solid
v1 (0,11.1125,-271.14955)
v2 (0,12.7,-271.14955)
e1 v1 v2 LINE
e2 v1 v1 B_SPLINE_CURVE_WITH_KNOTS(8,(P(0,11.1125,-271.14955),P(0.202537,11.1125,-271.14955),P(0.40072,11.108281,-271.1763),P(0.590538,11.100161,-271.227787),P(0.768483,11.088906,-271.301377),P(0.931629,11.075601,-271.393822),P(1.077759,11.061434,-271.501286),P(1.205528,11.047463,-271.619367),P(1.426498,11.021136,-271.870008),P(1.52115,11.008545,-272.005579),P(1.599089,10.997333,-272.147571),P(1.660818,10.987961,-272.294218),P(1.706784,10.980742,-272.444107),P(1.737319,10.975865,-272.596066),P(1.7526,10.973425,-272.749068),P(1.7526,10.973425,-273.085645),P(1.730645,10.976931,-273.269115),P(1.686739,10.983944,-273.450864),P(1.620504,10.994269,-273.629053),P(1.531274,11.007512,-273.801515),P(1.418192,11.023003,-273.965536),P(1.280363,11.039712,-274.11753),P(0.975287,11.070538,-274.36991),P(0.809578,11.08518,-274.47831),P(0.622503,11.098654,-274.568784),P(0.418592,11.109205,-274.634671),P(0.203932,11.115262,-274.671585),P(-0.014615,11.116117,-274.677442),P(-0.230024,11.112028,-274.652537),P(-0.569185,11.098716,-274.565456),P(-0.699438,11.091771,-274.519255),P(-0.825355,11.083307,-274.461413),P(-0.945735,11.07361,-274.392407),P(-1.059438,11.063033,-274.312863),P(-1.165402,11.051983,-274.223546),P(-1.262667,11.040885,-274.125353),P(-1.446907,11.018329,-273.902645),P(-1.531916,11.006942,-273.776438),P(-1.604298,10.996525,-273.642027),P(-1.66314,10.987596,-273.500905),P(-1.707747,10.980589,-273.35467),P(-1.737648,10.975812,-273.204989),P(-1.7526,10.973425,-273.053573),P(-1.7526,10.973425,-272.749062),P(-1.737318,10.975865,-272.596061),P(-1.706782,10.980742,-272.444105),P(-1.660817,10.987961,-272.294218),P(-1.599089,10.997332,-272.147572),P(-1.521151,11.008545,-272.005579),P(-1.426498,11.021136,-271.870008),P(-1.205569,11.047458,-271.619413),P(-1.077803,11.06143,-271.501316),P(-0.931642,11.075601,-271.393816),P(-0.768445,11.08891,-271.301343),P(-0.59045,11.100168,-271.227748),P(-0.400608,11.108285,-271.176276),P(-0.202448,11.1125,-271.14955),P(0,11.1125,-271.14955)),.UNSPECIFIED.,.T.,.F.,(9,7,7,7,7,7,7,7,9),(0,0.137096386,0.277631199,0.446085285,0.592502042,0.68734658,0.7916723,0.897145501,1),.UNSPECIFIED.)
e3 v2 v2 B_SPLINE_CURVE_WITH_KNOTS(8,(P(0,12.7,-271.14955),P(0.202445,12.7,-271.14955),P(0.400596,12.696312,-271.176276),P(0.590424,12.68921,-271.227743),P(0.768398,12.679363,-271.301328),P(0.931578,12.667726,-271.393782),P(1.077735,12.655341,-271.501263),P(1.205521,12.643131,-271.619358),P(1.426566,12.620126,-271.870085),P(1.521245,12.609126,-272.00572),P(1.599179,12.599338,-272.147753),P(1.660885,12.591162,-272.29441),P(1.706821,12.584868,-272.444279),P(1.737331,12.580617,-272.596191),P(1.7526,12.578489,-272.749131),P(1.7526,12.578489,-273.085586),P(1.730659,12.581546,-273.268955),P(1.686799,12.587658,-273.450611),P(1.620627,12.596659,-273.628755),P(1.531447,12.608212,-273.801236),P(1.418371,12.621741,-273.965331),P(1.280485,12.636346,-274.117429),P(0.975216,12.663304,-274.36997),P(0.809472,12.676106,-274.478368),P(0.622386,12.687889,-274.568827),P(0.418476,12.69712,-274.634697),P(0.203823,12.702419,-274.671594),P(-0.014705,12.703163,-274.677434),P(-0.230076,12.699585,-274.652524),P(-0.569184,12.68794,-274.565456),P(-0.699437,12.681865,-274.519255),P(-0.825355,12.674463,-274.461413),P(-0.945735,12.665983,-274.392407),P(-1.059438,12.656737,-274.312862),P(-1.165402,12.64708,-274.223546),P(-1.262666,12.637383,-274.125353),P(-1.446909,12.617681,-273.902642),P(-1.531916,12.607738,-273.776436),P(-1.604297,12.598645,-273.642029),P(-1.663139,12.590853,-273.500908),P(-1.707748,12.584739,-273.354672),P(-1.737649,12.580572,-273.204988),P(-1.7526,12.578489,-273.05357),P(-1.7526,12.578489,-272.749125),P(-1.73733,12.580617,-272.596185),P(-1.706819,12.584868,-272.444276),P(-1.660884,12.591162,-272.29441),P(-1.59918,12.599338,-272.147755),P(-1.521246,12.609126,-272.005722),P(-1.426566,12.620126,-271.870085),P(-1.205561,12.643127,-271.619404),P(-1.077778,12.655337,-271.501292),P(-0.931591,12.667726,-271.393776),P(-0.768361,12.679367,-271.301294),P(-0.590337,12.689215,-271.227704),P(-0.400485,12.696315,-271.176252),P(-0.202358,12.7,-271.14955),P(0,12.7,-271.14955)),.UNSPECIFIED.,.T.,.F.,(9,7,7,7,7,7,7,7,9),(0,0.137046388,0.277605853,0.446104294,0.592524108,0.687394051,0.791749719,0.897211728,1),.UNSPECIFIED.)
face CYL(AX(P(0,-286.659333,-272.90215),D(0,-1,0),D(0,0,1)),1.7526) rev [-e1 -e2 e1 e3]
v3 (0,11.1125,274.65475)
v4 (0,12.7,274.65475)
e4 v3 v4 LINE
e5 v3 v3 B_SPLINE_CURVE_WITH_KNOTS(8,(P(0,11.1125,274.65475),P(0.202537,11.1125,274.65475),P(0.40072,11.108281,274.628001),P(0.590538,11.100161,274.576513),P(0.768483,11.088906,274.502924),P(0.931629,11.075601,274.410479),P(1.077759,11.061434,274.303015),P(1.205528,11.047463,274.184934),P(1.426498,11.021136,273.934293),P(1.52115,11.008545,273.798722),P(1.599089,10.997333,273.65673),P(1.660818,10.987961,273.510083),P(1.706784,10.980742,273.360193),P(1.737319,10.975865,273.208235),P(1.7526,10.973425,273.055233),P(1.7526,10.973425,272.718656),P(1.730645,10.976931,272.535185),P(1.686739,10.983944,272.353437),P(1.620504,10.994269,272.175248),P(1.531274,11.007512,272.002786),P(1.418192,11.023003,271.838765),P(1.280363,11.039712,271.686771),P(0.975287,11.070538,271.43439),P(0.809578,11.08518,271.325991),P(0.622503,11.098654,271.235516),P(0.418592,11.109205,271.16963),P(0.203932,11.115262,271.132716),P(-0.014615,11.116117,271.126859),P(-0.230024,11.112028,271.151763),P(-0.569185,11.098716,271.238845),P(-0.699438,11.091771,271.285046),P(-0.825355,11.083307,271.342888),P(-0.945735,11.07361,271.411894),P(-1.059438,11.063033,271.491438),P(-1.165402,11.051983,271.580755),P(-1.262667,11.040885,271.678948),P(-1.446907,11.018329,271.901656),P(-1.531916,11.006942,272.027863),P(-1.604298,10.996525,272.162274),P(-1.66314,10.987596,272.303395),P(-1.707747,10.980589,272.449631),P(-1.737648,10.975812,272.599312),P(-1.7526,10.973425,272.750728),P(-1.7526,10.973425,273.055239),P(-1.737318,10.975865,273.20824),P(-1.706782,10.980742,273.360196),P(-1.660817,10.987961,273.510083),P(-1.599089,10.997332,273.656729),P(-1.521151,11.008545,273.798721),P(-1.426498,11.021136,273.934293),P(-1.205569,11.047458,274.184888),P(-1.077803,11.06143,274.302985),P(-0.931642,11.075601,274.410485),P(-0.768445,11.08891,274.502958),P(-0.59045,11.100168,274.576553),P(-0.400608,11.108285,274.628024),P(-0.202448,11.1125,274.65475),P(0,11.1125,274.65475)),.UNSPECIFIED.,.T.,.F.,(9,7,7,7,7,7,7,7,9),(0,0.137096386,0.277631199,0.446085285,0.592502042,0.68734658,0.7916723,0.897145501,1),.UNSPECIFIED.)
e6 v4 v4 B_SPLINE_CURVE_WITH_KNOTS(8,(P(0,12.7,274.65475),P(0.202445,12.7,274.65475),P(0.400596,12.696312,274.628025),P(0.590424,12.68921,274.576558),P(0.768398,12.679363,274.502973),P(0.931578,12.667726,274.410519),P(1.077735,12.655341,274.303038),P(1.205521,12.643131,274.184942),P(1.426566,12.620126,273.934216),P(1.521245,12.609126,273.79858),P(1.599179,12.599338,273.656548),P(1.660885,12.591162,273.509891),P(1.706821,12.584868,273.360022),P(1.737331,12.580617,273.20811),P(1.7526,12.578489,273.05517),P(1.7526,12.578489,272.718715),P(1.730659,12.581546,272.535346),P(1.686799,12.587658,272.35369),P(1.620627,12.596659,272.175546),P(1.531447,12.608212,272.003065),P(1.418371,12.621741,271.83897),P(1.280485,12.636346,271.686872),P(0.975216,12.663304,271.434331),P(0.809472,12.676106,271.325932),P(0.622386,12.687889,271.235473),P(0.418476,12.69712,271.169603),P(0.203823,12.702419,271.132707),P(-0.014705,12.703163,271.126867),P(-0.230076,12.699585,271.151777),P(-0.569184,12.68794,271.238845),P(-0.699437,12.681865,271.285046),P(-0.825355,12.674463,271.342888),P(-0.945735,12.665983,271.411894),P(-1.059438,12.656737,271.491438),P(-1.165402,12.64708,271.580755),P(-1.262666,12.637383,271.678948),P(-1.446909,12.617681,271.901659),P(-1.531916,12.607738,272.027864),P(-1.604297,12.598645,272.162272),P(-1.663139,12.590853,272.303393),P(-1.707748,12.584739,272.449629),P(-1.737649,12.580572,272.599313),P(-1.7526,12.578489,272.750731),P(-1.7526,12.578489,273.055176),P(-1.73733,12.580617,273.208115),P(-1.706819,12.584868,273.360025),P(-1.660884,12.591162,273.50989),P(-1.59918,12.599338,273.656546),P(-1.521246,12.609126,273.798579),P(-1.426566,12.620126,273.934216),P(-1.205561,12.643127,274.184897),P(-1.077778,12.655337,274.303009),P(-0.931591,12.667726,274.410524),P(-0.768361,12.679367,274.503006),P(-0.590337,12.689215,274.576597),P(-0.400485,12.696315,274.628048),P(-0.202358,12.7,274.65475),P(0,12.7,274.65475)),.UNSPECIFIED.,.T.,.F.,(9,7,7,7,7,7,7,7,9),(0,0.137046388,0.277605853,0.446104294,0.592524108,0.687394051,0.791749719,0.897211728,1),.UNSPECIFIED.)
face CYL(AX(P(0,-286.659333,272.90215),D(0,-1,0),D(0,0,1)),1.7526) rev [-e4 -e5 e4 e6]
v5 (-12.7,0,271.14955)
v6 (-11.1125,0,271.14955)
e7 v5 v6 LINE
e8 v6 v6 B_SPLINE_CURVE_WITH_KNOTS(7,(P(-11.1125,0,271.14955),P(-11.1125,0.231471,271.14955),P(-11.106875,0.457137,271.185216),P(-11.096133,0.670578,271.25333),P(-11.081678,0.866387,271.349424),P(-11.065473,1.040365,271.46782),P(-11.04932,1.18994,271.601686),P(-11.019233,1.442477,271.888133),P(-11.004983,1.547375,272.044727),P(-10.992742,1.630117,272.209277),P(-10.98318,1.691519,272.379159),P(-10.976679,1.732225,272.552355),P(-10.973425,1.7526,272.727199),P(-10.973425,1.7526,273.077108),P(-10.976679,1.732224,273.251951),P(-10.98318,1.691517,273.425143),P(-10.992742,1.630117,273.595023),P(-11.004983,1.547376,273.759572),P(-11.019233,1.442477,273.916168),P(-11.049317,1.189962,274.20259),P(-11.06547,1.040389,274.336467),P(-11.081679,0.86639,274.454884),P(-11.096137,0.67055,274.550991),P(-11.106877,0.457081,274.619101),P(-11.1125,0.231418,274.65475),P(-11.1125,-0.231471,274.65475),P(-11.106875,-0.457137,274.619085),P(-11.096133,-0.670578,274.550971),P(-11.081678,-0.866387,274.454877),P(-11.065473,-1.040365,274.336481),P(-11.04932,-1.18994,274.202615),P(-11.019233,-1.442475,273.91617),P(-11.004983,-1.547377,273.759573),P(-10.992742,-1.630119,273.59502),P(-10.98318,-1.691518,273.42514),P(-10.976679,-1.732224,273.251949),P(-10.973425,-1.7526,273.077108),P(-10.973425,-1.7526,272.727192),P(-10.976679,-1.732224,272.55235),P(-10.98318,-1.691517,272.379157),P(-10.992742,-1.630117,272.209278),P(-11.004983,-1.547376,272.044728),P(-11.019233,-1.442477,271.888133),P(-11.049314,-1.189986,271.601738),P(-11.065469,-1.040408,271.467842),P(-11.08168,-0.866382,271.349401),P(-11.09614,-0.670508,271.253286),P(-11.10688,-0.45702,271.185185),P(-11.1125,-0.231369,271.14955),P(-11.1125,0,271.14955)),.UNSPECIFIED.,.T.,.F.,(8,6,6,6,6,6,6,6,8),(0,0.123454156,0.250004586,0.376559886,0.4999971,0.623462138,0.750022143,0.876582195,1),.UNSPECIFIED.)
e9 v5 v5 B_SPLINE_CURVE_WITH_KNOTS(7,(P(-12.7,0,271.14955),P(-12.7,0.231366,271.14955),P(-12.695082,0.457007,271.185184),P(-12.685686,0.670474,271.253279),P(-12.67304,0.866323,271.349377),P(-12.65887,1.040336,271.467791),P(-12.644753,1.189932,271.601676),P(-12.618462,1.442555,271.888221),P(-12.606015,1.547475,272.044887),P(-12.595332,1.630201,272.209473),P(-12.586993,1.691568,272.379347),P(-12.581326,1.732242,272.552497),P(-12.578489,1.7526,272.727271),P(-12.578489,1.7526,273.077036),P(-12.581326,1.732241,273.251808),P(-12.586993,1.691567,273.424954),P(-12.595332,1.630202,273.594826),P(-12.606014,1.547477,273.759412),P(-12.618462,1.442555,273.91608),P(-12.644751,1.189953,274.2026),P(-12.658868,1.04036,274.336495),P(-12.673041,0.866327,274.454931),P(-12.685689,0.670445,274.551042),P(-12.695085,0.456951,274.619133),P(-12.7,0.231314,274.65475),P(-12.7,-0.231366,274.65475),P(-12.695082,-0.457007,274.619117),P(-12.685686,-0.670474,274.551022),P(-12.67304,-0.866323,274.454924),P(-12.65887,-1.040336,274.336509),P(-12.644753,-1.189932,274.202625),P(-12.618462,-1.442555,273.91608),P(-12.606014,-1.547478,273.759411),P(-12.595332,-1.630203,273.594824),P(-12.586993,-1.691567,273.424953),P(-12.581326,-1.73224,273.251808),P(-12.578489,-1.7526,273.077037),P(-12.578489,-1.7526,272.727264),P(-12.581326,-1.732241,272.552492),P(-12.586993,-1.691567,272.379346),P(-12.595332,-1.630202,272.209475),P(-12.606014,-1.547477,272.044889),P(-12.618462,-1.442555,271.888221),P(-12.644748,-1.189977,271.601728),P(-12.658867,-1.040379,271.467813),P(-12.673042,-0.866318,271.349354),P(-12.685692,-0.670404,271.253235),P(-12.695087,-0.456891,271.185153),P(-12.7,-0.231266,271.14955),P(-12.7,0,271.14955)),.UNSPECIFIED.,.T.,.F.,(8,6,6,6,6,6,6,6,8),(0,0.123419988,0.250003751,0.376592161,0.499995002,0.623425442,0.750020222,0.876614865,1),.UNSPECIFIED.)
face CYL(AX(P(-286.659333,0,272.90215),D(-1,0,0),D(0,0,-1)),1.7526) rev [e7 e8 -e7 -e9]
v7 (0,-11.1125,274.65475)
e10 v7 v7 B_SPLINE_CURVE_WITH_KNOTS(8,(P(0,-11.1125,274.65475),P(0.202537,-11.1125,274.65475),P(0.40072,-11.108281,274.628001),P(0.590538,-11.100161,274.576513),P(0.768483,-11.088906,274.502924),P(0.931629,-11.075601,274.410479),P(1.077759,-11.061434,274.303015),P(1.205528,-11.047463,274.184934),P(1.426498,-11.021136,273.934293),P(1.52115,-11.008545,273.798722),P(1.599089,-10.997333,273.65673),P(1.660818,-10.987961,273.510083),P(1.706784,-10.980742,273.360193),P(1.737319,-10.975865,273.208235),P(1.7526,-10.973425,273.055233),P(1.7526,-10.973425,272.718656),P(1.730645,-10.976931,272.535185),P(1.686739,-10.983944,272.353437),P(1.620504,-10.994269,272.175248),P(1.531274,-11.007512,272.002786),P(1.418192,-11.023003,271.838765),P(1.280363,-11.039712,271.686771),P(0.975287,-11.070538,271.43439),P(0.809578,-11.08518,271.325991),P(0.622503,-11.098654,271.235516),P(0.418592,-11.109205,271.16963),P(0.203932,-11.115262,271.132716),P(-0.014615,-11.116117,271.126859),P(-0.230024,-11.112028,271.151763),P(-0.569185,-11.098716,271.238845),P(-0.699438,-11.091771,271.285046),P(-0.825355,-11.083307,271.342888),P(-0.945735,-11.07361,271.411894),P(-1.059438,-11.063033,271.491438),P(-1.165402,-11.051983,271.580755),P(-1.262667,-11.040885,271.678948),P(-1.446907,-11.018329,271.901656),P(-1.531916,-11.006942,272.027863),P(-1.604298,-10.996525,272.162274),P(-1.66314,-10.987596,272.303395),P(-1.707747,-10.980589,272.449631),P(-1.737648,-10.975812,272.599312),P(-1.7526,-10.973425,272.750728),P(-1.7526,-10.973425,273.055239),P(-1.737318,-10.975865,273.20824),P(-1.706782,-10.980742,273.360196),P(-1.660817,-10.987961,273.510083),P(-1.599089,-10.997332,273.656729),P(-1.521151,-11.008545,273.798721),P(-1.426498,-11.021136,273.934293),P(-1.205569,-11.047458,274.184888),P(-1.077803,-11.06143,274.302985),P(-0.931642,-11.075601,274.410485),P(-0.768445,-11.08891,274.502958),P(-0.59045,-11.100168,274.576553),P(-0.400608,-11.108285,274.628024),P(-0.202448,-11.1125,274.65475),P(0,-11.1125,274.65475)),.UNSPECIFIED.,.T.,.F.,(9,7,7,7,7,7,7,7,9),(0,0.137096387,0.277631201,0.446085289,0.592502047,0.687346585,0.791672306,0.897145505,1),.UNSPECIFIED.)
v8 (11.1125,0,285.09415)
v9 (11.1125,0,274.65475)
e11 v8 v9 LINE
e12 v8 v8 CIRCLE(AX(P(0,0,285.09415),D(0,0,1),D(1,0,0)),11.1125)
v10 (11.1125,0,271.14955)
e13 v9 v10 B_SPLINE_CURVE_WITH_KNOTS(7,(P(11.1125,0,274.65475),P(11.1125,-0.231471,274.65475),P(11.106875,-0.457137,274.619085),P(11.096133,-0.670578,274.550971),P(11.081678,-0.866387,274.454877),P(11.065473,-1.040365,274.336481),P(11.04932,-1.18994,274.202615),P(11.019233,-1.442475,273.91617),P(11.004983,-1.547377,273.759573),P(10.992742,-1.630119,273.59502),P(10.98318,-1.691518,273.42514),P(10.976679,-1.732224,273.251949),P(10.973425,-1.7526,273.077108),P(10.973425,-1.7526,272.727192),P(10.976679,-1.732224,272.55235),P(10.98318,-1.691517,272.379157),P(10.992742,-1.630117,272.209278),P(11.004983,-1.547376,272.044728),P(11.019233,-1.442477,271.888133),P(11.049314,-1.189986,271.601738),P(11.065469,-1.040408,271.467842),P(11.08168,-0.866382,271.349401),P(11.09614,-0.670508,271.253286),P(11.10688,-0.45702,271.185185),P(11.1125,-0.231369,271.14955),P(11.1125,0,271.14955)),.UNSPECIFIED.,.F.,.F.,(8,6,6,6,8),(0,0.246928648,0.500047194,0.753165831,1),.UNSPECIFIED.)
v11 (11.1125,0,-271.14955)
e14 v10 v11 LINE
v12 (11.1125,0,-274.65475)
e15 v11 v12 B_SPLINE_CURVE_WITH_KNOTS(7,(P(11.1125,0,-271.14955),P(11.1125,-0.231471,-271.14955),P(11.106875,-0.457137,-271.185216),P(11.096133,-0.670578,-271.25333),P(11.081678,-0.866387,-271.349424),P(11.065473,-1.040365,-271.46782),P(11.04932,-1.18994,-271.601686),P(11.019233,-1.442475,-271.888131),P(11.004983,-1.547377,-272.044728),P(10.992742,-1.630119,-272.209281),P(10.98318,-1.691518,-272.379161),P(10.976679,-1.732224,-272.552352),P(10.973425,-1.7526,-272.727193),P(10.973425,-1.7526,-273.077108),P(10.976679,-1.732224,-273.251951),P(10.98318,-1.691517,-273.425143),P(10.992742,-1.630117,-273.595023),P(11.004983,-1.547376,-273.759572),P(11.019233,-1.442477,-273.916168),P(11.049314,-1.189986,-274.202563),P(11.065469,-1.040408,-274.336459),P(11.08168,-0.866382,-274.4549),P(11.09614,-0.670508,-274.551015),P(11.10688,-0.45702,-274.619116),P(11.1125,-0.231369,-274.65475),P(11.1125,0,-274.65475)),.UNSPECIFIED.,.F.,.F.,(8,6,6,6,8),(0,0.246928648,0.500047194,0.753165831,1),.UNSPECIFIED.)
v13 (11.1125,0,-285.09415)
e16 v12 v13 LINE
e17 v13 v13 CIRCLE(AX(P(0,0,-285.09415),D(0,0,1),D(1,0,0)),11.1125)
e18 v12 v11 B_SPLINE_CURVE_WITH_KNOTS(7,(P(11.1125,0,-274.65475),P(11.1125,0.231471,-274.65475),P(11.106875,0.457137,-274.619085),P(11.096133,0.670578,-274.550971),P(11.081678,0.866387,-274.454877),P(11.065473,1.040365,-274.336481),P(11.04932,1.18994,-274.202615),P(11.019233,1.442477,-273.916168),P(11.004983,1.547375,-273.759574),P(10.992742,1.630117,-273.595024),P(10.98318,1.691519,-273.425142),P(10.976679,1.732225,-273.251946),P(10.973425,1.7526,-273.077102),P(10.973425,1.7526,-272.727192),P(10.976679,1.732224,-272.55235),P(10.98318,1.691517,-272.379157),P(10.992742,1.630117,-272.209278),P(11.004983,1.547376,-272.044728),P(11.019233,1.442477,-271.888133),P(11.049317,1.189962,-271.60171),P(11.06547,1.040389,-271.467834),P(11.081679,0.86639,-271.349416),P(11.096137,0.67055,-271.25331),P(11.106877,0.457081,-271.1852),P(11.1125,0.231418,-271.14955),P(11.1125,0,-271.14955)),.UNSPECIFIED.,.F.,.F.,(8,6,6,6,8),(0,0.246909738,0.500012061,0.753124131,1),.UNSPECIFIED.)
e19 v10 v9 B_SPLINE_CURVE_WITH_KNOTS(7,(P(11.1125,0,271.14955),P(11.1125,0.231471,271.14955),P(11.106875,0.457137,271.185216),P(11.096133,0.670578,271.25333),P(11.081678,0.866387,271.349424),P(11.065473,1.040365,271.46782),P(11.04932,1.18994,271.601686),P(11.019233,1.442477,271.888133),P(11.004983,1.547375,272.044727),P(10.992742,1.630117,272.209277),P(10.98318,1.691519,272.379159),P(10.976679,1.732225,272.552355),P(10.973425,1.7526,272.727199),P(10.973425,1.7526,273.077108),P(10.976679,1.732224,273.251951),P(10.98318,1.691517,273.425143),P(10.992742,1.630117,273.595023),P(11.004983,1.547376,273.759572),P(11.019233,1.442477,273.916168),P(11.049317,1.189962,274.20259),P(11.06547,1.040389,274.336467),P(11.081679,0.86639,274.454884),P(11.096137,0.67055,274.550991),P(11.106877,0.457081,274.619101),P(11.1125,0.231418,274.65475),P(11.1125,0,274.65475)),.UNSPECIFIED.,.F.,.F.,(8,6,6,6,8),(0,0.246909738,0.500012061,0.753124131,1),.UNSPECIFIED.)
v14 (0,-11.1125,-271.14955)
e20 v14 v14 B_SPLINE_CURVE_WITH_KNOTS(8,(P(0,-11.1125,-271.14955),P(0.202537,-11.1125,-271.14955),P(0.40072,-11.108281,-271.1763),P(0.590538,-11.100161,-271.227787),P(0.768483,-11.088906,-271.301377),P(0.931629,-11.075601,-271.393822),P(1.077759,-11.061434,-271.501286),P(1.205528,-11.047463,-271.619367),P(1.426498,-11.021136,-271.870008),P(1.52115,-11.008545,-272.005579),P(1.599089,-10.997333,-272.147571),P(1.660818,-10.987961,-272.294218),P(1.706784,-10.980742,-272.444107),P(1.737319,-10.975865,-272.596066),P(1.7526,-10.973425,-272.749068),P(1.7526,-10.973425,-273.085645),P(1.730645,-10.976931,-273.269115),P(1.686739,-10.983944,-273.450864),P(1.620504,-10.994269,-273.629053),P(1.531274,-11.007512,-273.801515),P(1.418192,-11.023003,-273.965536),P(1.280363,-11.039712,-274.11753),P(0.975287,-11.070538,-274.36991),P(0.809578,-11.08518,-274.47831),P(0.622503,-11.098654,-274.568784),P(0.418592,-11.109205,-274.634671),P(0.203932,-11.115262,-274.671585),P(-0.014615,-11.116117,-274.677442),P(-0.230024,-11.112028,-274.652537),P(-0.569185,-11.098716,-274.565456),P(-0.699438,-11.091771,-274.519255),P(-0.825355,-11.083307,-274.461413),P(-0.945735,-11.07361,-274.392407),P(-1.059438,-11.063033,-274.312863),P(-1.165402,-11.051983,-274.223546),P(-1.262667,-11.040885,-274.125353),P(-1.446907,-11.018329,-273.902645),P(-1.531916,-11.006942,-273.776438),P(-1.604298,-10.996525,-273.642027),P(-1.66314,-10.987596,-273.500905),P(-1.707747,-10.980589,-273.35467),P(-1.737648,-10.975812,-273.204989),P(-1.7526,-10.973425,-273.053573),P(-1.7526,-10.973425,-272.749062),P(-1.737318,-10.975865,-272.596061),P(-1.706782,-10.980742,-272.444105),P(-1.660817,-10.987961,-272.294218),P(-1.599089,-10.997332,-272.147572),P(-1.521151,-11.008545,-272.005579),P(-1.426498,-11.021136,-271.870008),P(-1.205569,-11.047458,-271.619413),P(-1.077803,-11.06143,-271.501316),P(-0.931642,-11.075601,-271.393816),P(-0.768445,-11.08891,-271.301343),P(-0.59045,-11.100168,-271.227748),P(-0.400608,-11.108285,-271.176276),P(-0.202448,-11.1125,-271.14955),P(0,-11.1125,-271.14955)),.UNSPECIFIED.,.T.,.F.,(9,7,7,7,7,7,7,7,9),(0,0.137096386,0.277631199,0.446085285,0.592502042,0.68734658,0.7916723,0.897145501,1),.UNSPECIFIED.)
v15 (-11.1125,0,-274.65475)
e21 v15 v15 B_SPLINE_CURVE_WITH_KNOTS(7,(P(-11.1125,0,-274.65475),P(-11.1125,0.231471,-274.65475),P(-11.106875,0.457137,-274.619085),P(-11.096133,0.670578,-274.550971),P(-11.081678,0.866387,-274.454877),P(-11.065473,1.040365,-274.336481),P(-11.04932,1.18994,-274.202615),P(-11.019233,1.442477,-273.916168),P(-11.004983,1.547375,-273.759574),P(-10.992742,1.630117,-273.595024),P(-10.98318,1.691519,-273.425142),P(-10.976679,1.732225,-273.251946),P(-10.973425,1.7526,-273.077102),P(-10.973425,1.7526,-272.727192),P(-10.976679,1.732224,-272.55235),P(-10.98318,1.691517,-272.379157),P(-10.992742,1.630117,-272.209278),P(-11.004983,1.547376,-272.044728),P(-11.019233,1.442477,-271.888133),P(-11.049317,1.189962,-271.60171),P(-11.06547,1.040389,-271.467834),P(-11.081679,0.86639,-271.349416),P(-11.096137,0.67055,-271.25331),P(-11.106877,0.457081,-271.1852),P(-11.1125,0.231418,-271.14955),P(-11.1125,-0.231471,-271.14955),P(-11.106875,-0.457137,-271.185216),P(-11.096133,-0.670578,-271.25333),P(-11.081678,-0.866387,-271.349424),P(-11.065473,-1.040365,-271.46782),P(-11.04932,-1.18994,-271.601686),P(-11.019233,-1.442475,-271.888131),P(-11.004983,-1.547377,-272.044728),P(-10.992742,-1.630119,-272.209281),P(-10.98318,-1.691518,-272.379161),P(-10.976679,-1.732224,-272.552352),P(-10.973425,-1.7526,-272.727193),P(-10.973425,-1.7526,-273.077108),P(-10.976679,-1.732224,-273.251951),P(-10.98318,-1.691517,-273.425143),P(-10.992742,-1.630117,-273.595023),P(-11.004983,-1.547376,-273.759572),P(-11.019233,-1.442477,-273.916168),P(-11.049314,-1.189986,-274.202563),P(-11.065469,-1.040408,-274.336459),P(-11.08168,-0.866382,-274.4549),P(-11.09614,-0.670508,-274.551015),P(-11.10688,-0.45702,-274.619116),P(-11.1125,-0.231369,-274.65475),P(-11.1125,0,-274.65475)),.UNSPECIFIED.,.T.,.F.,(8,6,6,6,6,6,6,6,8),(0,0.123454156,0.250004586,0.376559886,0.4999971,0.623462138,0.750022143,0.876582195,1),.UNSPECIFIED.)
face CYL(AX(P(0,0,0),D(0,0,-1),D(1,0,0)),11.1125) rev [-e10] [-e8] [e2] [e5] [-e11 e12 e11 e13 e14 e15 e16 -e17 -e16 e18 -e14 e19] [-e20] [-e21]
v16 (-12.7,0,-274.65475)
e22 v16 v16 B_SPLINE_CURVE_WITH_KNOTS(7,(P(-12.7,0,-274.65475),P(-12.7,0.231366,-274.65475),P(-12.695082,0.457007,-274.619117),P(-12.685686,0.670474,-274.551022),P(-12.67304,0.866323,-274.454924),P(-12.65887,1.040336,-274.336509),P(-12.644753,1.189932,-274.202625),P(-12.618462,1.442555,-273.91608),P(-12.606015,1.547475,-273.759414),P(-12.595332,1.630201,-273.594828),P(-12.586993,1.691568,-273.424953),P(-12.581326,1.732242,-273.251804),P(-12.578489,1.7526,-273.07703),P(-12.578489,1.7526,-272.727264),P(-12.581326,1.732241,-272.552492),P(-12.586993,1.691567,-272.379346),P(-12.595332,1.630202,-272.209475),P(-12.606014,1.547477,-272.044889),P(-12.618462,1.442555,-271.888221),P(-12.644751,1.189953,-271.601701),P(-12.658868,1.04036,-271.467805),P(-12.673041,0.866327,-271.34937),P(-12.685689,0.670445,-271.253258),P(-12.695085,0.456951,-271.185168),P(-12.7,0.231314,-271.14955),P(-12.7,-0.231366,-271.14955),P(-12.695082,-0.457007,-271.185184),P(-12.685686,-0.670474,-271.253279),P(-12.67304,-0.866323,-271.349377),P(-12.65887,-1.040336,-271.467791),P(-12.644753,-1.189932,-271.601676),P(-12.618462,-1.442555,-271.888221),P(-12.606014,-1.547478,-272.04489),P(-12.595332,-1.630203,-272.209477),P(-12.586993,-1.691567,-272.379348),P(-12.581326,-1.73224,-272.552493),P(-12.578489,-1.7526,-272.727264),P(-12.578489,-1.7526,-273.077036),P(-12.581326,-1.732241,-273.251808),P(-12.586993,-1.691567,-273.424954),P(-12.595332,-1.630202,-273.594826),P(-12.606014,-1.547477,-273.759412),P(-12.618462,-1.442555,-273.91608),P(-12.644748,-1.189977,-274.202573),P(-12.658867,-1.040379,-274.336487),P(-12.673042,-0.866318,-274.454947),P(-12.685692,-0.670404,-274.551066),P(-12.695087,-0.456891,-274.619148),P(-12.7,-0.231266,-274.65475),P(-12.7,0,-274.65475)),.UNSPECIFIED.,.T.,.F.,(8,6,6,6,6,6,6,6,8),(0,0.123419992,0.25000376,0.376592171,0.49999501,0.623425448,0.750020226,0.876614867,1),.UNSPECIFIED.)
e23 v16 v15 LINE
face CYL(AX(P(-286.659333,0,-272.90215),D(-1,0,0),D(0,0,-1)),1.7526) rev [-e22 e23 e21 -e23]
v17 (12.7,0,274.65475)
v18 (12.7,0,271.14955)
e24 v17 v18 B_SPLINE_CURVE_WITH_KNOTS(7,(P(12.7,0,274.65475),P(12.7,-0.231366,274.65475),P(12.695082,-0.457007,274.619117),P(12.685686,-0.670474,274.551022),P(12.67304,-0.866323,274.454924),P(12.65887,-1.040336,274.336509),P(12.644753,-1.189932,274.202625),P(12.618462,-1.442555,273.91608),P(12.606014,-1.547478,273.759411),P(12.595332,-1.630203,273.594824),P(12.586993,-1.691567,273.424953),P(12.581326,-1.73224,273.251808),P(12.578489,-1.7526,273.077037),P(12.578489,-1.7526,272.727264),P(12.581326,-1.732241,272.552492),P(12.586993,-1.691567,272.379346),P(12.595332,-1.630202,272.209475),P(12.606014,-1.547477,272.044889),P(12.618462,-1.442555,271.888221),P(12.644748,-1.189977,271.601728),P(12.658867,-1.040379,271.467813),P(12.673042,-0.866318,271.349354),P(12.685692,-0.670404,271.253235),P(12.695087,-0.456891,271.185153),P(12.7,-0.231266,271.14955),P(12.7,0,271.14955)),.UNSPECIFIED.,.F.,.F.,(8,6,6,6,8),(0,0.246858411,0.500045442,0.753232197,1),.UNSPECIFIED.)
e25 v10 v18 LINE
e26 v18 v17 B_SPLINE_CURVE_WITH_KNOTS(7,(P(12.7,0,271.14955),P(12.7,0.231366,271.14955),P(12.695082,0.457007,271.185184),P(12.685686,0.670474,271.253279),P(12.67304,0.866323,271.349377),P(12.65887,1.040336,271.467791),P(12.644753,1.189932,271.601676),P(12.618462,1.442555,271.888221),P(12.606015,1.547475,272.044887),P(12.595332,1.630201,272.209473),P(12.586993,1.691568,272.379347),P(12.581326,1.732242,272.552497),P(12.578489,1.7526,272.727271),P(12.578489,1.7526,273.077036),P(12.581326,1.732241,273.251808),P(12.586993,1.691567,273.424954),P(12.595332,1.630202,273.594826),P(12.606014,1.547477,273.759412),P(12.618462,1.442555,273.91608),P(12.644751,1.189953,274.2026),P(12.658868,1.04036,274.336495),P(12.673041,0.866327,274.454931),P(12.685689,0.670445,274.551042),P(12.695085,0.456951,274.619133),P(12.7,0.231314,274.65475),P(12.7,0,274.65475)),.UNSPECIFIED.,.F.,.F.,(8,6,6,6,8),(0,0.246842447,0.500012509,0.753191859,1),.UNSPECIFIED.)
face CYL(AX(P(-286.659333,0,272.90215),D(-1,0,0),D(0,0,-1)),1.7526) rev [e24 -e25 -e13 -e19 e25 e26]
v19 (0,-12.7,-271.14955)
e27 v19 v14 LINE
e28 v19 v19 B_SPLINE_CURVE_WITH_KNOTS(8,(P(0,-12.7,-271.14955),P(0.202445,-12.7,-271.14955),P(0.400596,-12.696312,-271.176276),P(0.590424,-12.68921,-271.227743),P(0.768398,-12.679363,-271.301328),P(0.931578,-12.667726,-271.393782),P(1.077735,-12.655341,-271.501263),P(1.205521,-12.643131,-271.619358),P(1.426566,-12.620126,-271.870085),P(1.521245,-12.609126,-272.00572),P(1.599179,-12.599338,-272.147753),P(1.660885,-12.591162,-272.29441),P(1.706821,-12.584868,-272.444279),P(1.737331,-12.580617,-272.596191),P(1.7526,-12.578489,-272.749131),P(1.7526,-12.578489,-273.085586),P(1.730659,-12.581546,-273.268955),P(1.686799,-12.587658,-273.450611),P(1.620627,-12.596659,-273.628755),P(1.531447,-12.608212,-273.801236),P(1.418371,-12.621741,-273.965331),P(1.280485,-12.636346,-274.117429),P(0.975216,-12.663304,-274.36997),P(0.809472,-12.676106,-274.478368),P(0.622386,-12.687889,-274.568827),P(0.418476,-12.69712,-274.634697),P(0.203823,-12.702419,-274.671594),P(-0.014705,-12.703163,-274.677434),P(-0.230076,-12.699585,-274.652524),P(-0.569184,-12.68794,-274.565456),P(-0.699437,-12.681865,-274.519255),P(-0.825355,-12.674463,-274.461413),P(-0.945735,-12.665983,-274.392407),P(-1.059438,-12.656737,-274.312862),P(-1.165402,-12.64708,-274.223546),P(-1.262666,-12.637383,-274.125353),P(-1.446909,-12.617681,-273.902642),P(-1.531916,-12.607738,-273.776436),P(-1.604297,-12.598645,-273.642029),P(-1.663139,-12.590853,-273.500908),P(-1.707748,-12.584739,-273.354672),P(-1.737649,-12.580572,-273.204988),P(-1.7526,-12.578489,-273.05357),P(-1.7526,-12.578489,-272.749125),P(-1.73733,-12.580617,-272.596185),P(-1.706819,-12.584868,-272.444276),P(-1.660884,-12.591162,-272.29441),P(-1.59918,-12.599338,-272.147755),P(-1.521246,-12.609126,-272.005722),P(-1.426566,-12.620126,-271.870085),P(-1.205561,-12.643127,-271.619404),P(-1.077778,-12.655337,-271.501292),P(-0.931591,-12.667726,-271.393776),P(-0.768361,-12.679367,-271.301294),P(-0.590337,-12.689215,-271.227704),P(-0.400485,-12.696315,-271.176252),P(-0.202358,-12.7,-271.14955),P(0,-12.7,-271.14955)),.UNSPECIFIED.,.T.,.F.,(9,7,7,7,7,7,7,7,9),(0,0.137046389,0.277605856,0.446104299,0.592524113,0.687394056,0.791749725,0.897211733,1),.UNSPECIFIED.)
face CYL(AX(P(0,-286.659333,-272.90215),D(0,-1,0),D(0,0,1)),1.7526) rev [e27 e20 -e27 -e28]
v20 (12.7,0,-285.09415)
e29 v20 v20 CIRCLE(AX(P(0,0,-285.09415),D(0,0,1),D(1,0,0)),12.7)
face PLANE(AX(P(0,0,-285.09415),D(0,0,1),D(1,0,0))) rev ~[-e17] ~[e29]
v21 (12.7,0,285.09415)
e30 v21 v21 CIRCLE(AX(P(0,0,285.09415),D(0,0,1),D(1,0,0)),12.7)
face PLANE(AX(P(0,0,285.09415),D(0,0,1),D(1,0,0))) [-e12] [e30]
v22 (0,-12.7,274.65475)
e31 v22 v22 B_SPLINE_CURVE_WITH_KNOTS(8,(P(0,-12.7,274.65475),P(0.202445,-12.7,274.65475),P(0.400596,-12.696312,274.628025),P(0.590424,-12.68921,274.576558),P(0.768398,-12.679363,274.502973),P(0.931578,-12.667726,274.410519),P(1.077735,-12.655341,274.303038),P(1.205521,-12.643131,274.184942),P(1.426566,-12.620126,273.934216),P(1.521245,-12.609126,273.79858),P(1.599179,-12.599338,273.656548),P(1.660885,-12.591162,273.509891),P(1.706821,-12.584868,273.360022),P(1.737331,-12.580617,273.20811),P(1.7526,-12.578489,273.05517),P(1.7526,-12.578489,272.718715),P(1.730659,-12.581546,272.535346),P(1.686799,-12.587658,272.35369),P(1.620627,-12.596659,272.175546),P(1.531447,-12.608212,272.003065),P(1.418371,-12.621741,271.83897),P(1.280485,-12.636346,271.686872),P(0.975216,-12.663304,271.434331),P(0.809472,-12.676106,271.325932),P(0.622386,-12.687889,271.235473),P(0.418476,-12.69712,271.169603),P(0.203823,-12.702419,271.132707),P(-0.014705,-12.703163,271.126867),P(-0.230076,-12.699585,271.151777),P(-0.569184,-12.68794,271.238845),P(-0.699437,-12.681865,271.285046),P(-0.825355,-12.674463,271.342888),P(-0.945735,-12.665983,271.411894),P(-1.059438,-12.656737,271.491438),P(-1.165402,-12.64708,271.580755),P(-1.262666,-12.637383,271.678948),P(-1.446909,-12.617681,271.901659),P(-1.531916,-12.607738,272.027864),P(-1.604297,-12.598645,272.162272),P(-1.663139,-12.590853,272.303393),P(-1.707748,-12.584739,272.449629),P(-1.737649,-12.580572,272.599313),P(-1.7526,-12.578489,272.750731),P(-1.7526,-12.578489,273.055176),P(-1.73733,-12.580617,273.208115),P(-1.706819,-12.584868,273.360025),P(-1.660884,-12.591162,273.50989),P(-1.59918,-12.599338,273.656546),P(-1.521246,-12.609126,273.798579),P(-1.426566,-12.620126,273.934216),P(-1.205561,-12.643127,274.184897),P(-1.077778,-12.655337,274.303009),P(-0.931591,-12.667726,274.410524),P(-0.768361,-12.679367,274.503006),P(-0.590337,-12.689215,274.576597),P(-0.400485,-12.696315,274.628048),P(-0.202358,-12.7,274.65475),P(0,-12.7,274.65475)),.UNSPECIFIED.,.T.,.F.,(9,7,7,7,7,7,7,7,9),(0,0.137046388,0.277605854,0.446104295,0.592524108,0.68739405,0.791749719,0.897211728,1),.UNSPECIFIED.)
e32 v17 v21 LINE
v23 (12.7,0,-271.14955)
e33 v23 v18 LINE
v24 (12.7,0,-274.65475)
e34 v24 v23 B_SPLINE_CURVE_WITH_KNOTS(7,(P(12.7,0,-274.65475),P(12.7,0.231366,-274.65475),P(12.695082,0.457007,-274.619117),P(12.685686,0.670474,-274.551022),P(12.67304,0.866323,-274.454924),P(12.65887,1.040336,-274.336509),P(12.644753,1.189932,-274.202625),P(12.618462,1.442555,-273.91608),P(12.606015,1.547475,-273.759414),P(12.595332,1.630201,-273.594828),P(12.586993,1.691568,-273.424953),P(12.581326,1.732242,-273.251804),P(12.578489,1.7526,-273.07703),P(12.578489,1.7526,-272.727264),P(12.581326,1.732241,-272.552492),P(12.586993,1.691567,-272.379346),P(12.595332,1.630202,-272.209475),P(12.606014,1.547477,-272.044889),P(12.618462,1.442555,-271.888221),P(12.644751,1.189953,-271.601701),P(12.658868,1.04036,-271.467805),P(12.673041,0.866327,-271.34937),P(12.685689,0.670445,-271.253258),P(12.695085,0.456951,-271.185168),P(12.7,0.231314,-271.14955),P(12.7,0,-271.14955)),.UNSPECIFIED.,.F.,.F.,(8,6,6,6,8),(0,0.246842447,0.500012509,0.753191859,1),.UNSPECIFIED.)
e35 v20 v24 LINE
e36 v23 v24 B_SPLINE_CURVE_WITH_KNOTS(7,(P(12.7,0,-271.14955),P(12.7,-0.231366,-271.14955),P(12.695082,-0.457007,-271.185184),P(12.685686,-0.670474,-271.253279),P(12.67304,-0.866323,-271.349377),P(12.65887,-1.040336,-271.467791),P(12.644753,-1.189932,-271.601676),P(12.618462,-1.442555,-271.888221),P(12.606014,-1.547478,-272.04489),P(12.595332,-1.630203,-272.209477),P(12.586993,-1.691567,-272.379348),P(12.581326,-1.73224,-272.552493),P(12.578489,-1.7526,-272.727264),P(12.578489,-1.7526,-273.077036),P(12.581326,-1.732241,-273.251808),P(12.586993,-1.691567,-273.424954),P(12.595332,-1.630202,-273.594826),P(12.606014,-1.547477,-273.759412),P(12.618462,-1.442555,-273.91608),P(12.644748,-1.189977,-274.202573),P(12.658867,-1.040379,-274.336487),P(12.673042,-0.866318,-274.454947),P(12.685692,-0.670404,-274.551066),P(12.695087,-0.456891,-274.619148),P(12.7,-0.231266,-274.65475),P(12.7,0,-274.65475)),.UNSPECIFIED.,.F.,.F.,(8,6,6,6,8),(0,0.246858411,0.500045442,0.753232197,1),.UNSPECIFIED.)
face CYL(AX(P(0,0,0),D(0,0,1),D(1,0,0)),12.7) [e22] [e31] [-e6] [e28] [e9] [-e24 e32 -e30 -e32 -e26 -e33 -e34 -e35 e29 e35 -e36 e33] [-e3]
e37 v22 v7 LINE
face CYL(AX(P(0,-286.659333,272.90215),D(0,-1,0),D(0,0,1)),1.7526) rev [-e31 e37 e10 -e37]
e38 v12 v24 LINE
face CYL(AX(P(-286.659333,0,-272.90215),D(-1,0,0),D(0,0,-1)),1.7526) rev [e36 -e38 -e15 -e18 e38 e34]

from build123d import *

# Parameters (mm, degrees)
SKETCH2_R               = 12.7
SKETCH2_R_2             = 11.1125
BOSS_EXTRUDE1_DEPTH     = 285.09415041
CUT_EXTRUDE1_DEPTH      = 286.659333119
CUT_EXTRUDE1_DEPTH_BACK = 286.659333119
SKETCH3_R               = 1.7526
CUT_EXTRUDE2_DEPTH      = 286.659333228
CUT_EXTRUDE2_DEPTH_BACK = 286.659333228
SKETCH4_R               = 1.7526


with BuildPart() as part:
    # Sketch2 → Boss-Extrude1 (new, symmetric)
    with BuildSketch(Plane.XY):
        Circle(SKETCH2_R)
        Circle(SKETCH2_R_2, mode=Mode.SUBTRACT)
    extrude(amount=BOSS_EXTRUDE1_DEPTH, both=True)

    # Sketch3 → Cut-Extrude1 (cut, two sides: drawn at the far end of the back side and taken through both)
    with BuildSketch(Plane(origin=(0, 0, 0), x_dir=(1, 0, 0), z_dir=(0, 1, 0)).offset(-CUT_EXTRUDE1_DEPTH_BACK)):
        with Locations(Location((0, -272.90215041, 0), (0, 0, 270))):
            Circle(SKETCH3_R)
        with Locations(Location((0, 272.90215041, 0), (0, 0, 270))):
            Circle(SKETCH3_R)
    extrude(amount=CUT_EXTRUDE1_DEPTH + CUT_EXTRUDE1_DEPTH_BACK, mode=Mode.SUBTRACT)

    # Sketch4 → Cut-Extrude2 (cut, two sides: drawn at the far end of the back side and taken through both)
    with BuildSketch(Plane(origin=(0, 0, 0), x_dir=(0, 0, -1), z_dir=(1, 0, 0)).offset(-CUT_EXTRUDE2_DEPTH_BACK)):
        with Locations((-272.90215041, 0)):
            Circle(SKETCH4_R)
        with Locations((272.90215041, 0)):
            Circle(SKETCH4_R)
    extrude(amount=CUT_EXTRUDE2_DEPTH + CUT_EXTRUDE2_DEPTH_BACK, mode=Mode.SUBTRACT)


solid = part.part
